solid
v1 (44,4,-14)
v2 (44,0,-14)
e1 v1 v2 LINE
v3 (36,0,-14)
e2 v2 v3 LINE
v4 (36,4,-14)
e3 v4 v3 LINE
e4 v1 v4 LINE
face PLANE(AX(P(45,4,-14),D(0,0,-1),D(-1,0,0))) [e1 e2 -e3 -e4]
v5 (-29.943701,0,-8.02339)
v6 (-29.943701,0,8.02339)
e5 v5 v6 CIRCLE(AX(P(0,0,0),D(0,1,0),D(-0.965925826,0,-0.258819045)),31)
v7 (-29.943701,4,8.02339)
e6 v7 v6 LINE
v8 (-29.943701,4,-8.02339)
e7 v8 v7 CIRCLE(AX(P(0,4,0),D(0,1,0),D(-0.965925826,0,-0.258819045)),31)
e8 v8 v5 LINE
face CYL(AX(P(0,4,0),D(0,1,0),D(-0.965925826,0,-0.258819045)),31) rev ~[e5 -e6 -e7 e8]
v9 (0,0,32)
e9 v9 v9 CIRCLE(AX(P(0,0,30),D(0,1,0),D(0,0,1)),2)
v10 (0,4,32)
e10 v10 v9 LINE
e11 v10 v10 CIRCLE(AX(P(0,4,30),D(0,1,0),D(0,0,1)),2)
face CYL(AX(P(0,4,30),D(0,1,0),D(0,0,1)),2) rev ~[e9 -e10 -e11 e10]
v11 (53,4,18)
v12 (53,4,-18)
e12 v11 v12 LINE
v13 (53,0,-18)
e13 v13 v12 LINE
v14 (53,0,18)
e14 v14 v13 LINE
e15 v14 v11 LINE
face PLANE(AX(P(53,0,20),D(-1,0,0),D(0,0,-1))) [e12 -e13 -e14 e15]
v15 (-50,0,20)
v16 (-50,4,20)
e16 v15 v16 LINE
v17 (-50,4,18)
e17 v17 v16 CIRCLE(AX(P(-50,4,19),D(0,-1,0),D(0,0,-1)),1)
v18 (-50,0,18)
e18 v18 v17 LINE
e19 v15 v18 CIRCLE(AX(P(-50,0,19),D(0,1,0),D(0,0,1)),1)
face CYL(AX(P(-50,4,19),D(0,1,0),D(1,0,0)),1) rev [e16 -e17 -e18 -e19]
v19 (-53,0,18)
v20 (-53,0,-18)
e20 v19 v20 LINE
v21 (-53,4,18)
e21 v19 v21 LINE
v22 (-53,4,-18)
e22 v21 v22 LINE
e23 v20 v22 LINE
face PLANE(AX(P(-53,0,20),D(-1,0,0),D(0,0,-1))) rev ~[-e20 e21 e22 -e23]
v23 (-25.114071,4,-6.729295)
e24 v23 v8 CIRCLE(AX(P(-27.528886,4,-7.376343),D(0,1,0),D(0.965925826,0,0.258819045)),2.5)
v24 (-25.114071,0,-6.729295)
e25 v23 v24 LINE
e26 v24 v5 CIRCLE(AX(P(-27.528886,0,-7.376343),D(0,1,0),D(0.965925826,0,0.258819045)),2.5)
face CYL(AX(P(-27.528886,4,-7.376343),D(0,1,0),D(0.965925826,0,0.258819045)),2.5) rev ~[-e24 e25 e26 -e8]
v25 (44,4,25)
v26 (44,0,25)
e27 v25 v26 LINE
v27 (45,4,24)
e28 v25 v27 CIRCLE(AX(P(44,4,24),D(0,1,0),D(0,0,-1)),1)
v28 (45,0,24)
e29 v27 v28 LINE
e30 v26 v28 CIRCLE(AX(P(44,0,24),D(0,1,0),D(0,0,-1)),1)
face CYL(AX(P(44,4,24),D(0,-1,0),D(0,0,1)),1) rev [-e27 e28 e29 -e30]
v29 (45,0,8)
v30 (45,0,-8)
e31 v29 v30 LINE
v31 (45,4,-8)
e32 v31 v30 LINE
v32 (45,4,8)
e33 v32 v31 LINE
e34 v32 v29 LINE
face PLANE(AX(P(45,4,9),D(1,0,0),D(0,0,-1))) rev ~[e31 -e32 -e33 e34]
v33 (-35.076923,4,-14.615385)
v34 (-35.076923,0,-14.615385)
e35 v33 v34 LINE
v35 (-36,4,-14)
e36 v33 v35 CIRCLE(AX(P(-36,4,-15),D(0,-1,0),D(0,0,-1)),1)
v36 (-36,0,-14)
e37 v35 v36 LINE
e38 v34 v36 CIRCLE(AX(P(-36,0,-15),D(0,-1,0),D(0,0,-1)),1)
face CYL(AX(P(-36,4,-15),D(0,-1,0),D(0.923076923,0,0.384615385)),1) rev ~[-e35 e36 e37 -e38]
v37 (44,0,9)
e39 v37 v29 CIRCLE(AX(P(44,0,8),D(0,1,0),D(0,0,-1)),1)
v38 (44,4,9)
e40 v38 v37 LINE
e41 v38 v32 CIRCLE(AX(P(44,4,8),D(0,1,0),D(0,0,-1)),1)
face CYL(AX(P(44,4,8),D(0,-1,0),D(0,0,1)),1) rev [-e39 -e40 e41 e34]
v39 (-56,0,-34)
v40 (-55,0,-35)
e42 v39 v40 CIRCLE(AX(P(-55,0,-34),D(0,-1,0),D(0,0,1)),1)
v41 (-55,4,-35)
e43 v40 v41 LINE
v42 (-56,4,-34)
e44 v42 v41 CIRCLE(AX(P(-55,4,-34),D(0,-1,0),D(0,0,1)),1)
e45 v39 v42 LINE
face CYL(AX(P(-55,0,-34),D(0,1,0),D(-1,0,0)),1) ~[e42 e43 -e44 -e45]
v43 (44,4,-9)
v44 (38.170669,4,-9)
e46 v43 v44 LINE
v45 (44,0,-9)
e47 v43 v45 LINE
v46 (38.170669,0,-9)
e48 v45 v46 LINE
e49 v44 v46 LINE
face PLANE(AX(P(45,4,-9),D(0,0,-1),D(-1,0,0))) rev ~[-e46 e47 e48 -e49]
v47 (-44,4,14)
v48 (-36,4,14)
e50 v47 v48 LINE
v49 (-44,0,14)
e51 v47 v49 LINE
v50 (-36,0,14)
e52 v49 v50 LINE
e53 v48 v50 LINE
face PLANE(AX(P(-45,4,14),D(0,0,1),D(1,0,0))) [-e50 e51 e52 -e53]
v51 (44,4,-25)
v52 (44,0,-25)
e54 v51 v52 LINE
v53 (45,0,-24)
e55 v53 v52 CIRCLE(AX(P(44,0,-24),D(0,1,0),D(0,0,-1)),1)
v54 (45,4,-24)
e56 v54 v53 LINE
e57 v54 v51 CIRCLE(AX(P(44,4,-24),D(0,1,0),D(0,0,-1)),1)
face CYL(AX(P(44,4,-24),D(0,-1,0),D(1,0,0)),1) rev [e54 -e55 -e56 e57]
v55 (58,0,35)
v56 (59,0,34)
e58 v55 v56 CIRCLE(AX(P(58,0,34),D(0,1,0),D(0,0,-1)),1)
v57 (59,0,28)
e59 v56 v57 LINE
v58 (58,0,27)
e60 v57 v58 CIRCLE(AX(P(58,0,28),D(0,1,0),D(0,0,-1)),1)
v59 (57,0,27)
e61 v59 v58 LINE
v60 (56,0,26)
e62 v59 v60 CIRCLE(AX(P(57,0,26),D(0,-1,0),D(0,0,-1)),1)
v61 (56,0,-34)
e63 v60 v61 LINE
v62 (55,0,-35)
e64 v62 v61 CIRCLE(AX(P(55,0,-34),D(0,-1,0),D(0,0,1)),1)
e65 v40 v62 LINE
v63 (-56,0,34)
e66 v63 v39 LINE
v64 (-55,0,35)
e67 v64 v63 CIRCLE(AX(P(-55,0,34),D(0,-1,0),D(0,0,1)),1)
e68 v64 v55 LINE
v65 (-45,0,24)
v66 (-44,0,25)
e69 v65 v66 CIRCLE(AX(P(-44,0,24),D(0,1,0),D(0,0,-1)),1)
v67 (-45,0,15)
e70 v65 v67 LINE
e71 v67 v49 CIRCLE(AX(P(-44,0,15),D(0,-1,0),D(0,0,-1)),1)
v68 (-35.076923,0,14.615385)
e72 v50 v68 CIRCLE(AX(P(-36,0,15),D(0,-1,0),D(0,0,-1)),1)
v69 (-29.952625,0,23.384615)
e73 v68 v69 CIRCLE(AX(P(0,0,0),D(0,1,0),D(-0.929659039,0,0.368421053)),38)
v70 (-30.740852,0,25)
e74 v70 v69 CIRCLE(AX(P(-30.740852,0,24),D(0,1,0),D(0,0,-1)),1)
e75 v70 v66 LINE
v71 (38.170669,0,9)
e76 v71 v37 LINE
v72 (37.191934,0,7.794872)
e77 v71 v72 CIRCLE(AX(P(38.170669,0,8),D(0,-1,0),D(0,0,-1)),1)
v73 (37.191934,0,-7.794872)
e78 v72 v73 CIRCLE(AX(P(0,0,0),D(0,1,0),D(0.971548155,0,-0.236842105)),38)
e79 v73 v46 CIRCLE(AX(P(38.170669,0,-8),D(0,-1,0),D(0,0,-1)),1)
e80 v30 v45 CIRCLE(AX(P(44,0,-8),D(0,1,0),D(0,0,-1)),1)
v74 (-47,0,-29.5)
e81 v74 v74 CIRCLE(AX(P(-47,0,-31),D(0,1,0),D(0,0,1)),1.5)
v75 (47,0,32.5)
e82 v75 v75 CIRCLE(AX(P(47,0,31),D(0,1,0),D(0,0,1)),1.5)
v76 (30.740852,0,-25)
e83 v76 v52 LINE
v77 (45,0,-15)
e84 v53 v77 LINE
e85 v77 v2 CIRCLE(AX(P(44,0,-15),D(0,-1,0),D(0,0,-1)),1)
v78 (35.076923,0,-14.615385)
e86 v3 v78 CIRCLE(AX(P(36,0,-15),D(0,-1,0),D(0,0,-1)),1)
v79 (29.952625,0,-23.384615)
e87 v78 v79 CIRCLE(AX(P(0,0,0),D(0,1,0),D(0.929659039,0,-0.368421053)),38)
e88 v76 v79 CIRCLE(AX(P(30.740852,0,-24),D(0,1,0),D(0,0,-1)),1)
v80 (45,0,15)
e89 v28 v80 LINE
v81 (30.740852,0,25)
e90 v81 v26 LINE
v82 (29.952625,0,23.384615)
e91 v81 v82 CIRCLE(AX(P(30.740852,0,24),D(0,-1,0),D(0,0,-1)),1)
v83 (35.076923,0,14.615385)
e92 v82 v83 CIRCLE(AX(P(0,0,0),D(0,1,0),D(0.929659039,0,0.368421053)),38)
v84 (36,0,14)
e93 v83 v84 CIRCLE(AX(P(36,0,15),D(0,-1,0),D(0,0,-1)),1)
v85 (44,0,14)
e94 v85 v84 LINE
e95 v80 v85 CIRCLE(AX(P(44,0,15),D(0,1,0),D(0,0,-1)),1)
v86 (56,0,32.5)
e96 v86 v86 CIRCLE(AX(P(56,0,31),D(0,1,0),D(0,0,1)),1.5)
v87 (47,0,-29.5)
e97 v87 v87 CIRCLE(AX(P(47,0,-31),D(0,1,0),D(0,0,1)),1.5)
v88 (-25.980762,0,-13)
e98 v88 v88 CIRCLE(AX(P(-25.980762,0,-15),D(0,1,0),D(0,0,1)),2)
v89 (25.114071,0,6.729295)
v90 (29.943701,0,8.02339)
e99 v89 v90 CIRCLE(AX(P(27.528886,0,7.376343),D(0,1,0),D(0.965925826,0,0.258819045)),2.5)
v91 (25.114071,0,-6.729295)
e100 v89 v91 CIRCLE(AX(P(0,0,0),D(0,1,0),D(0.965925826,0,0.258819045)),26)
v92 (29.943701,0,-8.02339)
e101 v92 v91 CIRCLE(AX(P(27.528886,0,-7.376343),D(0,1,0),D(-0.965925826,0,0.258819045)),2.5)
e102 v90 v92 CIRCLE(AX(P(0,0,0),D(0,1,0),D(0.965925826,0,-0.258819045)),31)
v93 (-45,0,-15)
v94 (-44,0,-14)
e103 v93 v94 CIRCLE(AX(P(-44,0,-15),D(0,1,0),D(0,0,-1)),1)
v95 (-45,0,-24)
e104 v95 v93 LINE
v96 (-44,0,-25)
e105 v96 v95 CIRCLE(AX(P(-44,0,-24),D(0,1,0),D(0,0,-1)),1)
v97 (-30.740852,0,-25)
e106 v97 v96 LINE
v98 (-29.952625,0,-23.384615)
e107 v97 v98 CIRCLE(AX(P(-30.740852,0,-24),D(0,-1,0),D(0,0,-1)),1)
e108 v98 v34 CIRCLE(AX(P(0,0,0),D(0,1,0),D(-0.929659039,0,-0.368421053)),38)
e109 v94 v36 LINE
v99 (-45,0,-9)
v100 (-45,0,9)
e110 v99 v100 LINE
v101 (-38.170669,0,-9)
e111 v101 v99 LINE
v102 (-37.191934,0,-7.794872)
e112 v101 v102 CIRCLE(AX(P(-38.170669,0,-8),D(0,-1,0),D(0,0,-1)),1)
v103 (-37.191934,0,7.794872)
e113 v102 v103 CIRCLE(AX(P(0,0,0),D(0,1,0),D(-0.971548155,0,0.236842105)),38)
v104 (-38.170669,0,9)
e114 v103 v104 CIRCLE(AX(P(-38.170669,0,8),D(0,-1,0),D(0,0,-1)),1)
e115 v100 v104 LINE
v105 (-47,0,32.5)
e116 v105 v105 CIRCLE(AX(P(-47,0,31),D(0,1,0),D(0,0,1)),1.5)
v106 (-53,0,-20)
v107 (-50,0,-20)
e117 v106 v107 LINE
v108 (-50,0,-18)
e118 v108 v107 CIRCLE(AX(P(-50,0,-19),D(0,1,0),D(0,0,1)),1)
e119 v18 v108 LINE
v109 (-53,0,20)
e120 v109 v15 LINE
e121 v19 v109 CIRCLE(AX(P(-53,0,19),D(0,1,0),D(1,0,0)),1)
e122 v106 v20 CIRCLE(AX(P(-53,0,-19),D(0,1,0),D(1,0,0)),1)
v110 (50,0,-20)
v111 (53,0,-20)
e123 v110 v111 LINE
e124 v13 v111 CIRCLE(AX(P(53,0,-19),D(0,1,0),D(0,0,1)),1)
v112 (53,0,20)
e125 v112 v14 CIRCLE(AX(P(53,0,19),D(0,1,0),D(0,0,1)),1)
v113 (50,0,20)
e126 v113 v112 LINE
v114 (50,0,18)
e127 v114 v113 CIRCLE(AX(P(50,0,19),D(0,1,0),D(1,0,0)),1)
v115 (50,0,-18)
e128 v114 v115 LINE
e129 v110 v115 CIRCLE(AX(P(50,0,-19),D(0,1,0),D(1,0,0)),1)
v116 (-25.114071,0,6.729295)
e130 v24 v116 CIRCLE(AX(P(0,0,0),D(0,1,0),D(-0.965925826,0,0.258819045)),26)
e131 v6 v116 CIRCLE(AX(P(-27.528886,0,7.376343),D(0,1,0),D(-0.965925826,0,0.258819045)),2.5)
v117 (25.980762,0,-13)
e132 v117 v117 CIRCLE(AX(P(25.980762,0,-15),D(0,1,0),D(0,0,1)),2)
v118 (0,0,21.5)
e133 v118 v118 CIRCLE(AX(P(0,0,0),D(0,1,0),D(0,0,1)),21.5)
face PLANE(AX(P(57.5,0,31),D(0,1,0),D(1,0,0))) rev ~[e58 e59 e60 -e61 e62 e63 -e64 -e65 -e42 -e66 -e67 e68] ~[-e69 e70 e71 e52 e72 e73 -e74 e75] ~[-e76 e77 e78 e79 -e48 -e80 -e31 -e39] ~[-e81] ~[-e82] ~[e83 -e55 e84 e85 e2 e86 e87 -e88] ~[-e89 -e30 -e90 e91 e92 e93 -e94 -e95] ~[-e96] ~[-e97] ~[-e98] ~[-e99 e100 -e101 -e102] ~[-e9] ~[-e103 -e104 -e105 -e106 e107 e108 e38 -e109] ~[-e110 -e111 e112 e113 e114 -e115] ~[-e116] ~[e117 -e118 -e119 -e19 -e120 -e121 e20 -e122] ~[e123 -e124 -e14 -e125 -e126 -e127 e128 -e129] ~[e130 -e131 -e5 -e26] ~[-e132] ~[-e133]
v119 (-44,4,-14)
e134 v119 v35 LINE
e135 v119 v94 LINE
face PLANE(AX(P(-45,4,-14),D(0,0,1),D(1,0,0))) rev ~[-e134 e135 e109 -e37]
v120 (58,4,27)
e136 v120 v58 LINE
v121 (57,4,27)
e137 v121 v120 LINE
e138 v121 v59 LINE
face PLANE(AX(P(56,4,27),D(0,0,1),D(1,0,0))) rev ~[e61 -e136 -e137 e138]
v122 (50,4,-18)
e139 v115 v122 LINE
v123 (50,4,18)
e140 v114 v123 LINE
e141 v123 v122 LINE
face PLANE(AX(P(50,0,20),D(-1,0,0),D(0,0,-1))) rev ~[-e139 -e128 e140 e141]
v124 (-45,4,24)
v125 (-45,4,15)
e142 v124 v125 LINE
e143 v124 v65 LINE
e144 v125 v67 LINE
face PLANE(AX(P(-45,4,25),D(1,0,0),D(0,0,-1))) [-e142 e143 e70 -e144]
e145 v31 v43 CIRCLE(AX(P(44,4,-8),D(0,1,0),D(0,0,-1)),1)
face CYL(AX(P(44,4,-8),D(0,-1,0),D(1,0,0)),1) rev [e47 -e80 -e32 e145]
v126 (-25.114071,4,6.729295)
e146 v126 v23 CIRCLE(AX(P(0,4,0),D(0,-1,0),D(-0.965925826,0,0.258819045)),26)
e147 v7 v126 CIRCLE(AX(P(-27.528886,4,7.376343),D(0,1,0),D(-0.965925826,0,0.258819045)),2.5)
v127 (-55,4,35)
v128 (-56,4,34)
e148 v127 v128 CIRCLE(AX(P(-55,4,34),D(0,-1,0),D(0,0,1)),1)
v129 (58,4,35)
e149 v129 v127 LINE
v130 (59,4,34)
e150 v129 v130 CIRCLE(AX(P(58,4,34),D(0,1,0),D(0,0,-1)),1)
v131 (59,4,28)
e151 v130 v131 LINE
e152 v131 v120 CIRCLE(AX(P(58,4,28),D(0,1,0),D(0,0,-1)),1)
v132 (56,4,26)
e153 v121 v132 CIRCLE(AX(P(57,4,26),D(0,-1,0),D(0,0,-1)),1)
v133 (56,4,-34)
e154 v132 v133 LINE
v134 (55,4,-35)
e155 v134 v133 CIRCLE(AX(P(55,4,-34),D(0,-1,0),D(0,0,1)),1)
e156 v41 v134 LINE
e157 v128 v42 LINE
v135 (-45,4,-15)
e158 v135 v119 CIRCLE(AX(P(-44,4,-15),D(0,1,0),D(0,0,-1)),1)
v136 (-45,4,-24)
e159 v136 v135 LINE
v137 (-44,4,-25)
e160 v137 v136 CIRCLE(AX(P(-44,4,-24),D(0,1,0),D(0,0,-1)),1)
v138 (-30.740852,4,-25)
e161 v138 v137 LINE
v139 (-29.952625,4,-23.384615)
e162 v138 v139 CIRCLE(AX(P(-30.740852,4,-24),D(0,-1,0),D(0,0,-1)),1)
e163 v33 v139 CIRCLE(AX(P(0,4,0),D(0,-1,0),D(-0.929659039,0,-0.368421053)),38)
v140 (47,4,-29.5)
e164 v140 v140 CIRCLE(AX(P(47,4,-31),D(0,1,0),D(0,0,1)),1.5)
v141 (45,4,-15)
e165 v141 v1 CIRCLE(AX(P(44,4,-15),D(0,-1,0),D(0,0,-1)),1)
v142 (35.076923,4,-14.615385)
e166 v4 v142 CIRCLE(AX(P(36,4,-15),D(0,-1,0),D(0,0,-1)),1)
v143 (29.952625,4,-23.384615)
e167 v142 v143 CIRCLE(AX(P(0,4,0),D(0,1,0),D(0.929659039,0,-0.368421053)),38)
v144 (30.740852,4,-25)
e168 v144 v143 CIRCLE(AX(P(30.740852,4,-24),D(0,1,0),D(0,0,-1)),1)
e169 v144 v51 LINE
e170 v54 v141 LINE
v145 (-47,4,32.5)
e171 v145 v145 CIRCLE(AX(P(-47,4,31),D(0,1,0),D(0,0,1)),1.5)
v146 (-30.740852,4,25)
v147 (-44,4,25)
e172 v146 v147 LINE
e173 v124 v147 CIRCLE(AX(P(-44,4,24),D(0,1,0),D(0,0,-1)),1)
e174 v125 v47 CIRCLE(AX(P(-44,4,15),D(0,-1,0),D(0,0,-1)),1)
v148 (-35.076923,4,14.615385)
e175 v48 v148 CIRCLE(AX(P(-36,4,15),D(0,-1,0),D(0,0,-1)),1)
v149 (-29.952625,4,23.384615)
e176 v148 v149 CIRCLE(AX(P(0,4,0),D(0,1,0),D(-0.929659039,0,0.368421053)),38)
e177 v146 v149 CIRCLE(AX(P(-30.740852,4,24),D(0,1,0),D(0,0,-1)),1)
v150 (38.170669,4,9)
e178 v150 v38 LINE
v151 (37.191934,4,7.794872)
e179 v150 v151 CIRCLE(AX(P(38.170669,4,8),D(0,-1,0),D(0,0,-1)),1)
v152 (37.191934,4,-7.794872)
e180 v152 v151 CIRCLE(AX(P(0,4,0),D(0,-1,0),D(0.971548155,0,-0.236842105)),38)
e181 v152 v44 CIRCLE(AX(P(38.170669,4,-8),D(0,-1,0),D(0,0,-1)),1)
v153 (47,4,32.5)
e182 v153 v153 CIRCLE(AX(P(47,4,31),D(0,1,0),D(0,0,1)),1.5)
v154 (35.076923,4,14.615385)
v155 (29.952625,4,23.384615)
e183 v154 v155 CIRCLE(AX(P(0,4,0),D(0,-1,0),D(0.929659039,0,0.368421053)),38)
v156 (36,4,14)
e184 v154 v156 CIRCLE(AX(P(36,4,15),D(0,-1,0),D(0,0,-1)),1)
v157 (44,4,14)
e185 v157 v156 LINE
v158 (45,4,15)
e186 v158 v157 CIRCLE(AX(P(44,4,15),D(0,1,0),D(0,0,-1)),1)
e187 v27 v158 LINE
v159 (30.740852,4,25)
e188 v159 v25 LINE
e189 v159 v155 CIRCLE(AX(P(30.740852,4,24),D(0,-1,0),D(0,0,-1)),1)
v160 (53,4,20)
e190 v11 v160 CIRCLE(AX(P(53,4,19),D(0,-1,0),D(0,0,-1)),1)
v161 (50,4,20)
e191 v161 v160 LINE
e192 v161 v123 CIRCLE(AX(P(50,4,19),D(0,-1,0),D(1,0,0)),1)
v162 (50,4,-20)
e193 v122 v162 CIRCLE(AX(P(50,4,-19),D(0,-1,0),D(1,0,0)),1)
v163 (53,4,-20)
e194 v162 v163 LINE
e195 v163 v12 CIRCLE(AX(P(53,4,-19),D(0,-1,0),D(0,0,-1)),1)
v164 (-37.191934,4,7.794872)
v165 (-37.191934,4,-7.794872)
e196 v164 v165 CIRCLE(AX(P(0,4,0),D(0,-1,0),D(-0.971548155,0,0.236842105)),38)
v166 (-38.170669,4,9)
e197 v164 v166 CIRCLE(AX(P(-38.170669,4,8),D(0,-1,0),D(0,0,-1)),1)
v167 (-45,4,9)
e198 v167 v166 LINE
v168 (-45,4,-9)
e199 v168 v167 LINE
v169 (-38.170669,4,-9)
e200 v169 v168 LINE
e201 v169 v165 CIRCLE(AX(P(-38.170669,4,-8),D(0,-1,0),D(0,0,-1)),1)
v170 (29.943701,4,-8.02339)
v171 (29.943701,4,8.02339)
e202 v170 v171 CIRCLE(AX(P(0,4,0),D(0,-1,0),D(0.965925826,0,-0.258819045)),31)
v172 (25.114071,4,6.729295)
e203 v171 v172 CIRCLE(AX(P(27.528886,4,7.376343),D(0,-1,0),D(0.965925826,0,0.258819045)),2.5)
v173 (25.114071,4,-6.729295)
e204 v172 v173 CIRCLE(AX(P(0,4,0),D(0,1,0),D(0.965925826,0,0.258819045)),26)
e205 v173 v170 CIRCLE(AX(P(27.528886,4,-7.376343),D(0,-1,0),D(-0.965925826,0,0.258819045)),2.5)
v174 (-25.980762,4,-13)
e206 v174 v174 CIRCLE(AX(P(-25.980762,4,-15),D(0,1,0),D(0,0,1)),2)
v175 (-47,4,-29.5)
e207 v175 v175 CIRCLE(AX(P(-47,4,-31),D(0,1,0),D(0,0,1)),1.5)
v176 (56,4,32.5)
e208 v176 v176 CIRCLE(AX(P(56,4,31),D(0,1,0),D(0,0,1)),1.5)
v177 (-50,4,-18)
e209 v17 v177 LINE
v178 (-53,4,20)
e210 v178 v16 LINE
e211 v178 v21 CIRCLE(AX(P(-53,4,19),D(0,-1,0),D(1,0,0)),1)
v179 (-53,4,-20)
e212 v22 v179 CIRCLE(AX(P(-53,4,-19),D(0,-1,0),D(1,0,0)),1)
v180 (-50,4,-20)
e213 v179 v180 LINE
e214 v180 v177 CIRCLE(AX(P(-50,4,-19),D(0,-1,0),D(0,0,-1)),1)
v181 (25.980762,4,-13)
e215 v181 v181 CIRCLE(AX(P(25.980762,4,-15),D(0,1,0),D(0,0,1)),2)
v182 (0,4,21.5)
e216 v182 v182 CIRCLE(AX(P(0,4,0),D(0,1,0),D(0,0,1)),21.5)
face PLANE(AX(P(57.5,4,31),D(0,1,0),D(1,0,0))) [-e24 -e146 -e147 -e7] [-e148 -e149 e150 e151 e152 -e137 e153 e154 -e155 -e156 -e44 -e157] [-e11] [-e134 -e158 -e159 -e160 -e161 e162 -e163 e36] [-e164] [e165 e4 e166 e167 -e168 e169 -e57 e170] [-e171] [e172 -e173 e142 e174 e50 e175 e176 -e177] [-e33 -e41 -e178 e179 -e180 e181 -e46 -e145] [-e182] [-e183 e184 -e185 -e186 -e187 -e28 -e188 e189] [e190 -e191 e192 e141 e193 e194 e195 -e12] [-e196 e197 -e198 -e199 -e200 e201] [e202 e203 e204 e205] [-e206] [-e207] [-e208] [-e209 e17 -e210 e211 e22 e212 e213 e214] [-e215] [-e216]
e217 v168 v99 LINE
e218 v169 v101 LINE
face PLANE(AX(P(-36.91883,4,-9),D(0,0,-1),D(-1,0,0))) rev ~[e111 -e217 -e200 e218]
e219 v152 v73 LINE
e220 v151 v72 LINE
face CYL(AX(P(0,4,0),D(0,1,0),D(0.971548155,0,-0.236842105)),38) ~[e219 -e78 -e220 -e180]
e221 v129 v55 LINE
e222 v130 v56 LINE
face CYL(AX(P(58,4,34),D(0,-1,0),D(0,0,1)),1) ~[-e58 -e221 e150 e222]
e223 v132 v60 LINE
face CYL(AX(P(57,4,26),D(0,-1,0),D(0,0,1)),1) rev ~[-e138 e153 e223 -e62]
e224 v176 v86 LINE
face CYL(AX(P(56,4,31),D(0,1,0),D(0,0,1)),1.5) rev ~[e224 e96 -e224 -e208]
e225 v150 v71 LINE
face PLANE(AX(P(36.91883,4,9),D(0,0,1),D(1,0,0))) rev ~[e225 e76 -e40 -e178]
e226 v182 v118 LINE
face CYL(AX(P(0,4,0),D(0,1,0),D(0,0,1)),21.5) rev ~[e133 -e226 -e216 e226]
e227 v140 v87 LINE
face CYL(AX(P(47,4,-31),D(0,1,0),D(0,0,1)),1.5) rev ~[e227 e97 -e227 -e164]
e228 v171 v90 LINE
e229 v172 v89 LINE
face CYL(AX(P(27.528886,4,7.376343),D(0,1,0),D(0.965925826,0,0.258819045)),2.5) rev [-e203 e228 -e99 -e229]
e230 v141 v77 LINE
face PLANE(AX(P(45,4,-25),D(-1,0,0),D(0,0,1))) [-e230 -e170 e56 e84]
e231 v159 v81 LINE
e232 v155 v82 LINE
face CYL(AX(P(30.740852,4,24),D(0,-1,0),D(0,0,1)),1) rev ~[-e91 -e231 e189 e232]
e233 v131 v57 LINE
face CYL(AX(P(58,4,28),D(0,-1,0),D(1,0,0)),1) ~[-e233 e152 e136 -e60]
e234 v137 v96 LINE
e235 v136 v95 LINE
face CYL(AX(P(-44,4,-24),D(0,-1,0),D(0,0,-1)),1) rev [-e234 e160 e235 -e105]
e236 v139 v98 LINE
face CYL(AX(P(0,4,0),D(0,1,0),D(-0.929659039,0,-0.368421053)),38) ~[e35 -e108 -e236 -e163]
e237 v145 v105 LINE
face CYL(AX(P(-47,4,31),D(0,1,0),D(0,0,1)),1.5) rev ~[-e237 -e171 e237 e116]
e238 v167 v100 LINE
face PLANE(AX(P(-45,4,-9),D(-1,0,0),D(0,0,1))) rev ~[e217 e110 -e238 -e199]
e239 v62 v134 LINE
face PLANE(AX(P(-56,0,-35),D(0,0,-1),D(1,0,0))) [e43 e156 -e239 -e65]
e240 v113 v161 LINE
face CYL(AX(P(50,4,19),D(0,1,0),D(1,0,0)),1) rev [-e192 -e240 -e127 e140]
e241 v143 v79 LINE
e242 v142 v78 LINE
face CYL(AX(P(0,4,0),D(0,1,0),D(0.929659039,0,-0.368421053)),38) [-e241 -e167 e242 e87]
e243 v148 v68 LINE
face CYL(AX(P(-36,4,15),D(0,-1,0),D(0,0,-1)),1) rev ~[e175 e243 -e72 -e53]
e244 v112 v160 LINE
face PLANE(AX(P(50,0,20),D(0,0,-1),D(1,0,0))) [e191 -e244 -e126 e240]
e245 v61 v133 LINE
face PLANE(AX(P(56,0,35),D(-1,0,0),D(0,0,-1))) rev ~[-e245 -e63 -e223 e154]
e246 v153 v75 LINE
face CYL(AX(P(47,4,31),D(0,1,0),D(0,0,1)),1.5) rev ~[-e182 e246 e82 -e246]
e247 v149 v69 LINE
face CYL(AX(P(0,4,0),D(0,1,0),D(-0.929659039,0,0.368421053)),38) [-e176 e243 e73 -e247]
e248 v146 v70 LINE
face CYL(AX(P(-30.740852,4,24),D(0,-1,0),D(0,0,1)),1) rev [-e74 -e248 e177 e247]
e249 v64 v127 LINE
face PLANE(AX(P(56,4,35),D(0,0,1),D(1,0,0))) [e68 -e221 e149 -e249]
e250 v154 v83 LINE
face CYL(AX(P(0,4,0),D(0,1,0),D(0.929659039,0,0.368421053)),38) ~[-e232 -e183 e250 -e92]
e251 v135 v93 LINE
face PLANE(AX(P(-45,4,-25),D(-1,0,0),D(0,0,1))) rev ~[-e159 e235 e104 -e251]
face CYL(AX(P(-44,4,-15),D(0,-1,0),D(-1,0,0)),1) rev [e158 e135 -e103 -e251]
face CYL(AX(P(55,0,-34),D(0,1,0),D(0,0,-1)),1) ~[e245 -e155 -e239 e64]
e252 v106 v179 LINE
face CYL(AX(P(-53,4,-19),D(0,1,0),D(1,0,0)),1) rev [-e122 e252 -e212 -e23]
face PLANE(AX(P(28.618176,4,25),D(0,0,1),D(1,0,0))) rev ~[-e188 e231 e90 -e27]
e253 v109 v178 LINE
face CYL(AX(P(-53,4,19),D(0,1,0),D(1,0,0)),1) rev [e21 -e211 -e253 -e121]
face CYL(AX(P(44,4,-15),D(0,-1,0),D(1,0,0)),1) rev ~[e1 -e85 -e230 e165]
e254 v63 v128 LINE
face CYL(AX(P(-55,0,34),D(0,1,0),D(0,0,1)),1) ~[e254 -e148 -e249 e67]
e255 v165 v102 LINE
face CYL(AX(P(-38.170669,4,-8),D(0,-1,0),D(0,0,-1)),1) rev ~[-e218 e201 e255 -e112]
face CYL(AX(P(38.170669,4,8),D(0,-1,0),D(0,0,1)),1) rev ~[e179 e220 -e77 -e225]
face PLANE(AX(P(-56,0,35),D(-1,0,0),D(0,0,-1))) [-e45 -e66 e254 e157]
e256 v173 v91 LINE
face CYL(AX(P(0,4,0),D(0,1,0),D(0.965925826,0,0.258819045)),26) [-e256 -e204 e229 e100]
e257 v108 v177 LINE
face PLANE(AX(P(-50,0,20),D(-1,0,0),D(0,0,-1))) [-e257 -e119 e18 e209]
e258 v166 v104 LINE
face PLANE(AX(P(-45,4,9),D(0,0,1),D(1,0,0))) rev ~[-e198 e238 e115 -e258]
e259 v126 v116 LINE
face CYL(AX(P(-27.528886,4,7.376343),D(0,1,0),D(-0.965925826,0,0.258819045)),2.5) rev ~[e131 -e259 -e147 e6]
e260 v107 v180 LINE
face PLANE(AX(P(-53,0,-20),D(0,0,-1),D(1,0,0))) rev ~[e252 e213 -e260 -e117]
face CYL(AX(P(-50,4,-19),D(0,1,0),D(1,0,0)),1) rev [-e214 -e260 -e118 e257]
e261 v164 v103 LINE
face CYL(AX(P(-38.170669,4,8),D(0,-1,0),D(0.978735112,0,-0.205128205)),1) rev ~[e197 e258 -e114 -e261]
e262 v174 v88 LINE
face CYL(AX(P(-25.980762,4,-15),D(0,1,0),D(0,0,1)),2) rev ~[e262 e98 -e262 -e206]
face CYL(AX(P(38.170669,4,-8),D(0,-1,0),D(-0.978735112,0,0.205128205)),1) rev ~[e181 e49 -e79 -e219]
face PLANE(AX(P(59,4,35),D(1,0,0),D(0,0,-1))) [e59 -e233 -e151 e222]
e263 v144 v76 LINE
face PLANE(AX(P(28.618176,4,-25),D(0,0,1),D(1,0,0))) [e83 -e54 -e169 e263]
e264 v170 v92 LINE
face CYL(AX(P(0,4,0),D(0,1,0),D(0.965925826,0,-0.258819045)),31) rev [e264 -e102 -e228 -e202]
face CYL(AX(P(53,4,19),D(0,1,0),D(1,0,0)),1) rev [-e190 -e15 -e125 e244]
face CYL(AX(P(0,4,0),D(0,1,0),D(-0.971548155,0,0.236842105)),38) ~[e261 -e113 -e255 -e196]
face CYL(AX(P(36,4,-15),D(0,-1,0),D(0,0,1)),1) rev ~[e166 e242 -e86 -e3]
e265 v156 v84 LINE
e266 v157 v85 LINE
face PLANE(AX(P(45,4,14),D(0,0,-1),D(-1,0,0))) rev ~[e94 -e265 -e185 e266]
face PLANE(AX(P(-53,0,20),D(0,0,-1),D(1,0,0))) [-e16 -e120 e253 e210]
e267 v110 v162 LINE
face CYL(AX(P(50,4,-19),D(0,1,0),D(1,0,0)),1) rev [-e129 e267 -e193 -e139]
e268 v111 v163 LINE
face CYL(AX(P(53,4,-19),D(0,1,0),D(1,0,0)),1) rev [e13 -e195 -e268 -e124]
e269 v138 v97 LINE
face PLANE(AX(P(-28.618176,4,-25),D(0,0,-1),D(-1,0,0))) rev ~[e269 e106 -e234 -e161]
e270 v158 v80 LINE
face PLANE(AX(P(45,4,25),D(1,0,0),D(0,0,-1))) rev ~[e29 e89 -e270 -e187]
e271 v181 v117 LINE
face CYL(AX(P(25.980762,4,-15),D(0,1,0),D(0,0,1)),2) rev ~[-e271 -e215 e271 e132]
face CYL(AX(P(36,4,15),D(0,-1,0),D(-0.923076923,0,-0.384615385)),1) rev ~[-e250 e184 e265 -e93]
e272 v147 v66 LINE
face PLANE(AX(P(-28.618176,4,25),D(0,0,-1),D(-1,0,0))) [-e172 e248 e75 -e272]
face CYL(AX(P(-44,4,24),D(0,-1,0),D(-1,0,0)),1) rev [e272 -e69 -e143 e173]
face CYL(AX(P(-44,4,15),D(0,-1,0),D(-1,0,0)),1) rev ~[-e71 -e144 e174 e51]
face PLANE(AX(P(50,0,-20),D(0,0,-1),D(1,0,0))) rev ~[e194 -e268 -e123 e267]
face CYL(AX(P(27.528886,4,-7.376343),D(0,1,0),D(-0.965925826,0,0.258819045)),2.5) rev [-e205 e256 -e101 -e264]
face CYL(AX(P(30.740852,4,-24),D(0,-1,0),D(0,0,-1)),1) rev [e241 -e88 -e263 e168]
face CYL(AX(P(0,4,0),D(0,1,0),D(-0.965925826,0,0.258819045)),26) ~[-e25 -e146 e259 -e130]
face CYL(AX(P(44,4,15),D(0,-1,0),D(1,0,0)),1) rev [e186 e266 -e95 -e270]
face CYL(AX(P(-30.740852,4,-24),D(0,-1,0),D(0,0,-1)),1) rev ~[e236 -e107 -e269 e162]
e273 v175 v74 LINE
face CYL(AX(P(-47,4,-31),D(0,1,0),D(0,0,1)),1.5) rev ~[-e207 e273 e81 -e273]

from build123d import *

# Parameters (mm, degrees)
SKETCH_1_W          = 112
SKETCH_1_H          = 70
SKETCH_1_W_2        = 3
SKETCH_1_H_2        = 40
EXTRUDE_1_DEPTH     = 4
SKETCH_6_R          = 21.5
SKETCH_6_R_2        = 2
CUT_EXTRUDE_5_DEPTH = 67.158899628
SKETCH_2_R          = 1.5
CUT_EXTRUDE_1_DEPTH = 10
SKETCH_4_R          = 1
CUT_EXTRUDE_3_DEPTH = 67.158899628
CUT_EXTRUDE_6_DEPTH = 67.158899628
SKETCH_8_W          = 3
SKETCH_8_H          = 8
EXTRUDE_2_DEPTH     = 4
SKETCH_9_R          = 1.5
CUT_EXTRUDE_7_DEPTH = 69.71681017
FILLET_3_R          = 1


with BuildPart() as part:
    # 草图1 → 凸台-拉伸1 (new body)
    with BuildSketch(Plane(origin=(0, 0, 0), x_dir=(1, 0, 0), z_dir=(0, 1, 0))):
        Rectangle(SKETCH_1_W, SKETCH_1_H)
        with Locations((-51.5, 0)):
            Rectangle(SKETCH_1_W_2, SKETCH_1_H_2, mode=Mode.SUBTRACT)
        with Locations((51.5, 0)):
            Rectangle(SKETCH_1_W_2, SKETCH_1_H_2, mode=Mode.SUBTRACT)
    extrude(amount=EXTRUDE_1_DEPTH)

    # 草图6 → 切除-拉伸5 (cut, through all)
    with BuildSketch(Plane(origin=(0, 4, 0), x_dir=(1, 0, 0), z_dir=(0, 1, 0))):
        with Locations(Location((0, 0, 0), (0, 0, 270))):
            Circle(SKETCH_6_R)
        with Locations(Location((-25.980762114, 15, 0), (0, 0, 270))):
            Circle(SKETCH_6_R_2)
        with Locations(Location((25.980762114, 15, 0), (0, 0, 270))):
            Circle(SKETCH_6_R_2)
        with Locations(Location((0, -30, 0), (0, 0, 270))):
            Circle(SKETCH_6_R_2)
        with BuildLine():
            ThreePointArc((-29.943700615, 8.023390398), (-31, 0), (-29.943700615, -8.023390398))
            ThreePointArc((-29.943700615, -8.023390398), (-26.881838436, -9.791157351), (-25.114071484, -6.729295173))
            ThreePointArc((-25.114071484, -6.729295173), (-26, 0), (-25.114071484, 6.729295173))
            ThreePointArc((-25.114071484, 6.729295173), (-26.881838436, 9.791157351), (-29.943700615, 8.023390398))
        make_face()
        with BuildLine():
            ThreePointArc((29.943700615, 8.023390398), (31, 0), (29.943700615, -8.023390398))
            ThreePointArc((29.943700615, -8.023390398), (26.881838436, -9.791157351), (25.114071484, -6.729295173))
            ThreePointArc((25.114071484, -6.729295173), (26, 0), (25.114071484, 6.729295173))
            ThreePointArc((25.114071484, 6.729295173), (26.881838436, 9.791157351), (29.943700615, 8.023390398))
        make_face()
    extrude(amount=-CUT_EXTRUDE_5_DEPTH, mode=Mode.SUBTRACT)

    # 草图2 → 切除-拉伸1 (cut)
    with BuildSketch(Plane(origin=(0, 4, 0), x_dir=(1, 0, 0), z_dir=(0, 1, 0))):
        with Locations(Location((-47, 31, 0), (0, 0, 270))):
            Circle(SKETCH_2_R)
        with Locations(Location((47, 31, 0), (0, 0, 270))):
            Circle(SKETCH_2_R)
        with Locations(Location((47, -31, 0), (0, 0, 270))):
            Circle(SKETCH_2_R)
        with Locations(Location((-47, -31, 0), (0, 0, 270))):
            Circle(SKETCH_2_R)
    extrude(amount=-CUT_EXTRUDE_1_DEPTH, mode=Mode.SUBTRACT)

    # 草图4 → 切除-拉伸3 (cut, through all)
    with BuildSketch(Plane.XZ.offset(-4)):
        with Locations((-50, 19)):
            Circle(SKETCH_4_R)
        with Locations((-50, -19)):
            Circle(SKETCH_4_R)
        with Locations((50, -19)):
            Circle(SKETCH_4_R)
        with Locations((50, 19)):
            Circle(SKETCH_4_R)
        with Locations((-53, 19)):
            Circle(SKETCH_4_R)
        with Locations((-53, -19)):
            Circle(SKETCH_4_R)
        with Locations((53, -19)):
            Circle(SKETCH_4_R)
        with Locations((53, 19)):
            Circle(SKETCH_4_R)
    extrude(amount=CUT_EXTRUDE_3_DEPTH, mode=Mode.SUBTRACT)

    # 草图7 → 切除-拉伸6 (cut, through all)
    with BuildSketch(Plane(origin=(0, 4, 0), x_dir=(1, 0, 0), z_dir=(0, 1, 0))):
        with BuildLine():
            Line((-28.618176043, 25), (-45, 25))
            Line((-45, 25), (-45, 14))
            Line((-45, 14), (-35.327043465, 14))
            ThreePointArc((-35.327043465, 14), (-32.442222095, 19.786415176), (-28.618176043, 25))
        make_face()
        with BuildLine():
            Line((-36.918829884, 9), (-45, 9))
            Line((-45, 9), (-45, -9))
            Line((-45, -9), (-36.918829884, -9))
            ThreePointArc((-36.918829884, -9), (-38, 0), (-36.918829884, 9))
        make_face()
        with BuildLine():
            Line((-45, -14), (-35.327043465, -14))
            ThreePointArc((-35.327043465, -14), (-32.442222095, -19.786415176), (-28.618176043, -25))
            Line((-28.618176043, -25), (-45, -25))
            Line((-45, -25), (-45, -14))
        make_face()
        with BuildLine():
            Line((28.618176043, -25), (45, -25))
            Line((45, -25), (45, -14))
            Line((45, -14), (35.327043465, -14))
            ThreePointArc((35.327043465, -14), (32.442222095, -19.786415176), (28.618176043, -25))
        make_face()
        with BuildLine():
            Line((36.918829884, -9), (45, -9))
            Line((45, -9), (45, 9))
            Line((45, 9), (36.918829884, 9))
            ThreePointArc((36.918829884, 9), (38, 0), (36.918829884, -9))
        make_face()
        with BuildLine():
            Line((45, 14), (35.327043465, 14))
            ThreePointArc((35.327043465, 14), (32.442222095, 19.786415176), (28.618176043, 25))
            Line((28.618176043, 25), (45, 25))
            Line((45, 25), (45, 14))
        make_face()
    extrude(amount=-CUT_EXTRUDE_6_DEPTH, mode=Mode.SUBTRACT)

    # 草图8 → 凸台-拉伸2 (add)
    with BuildSketch(Plane(origin=(0, 4, 0), x_dir=(1, 0, 0), z_dir=(0, 1, 0))):
        with Locations((57.5, -31)):
            Rectangle(SKETCH_8_W, SKETCH_8_H)
    extrude(amount=-EXTRUDE_2_DEPTH)

    # 草图9 → 切除-拉伸7 (cut, through all)
    with BuildSketch(Plane(origin=(0, 4, 0), x_dir=(1, 0, 0), z_dir=(0, 1, 0))):
        with Locations(Location((56, -31, 0), (0, 0, 270))):
            Circle(SKETCH_9_R)
    extrude(amount=-CUT_EXTRUDE_7_DEPTH, mode=Mode.SUBTRACT)

    # 圆角3
    fillet_3_edges = [part.edges().sort_by_distance(p)[0] for p in [
        (35.327043465, 2, -14),
        (28.618176043, 2, -25),
        (45, 2, -25),
        (45, 2, -14),
        (36.918829884, 2, 9),
        (36.918829884, 2, -9),
        (45, 2, -9),
        (45, 2, 9),
        (28.618176043, 2, 25),
        (35.327043465, 2, 14),
        (45, 2, 14),
        (45, 2, 25),
        (-35.327043465, 2, 14),
        (-28.618176043, 2, 25),
        (-45, 2, 25),
        (-45, 2, 14),
        (-36.918829884, 2, -9),
        (-36.918829884, 2, 9),
        (-28.618176043, 2, -25),
        (-35.327043465, 2, -14),
        (-45, 2, -14),
        (-45, 2, -25),
        (56, 2, 27),
        (59, 2, 27),
        (59, 2, 35),
        (-56, 2, -35),
        (56, 2, -35),
        (-56, 2, 35),
    ]]
    fillet(fillet_3_edges, radius=FILLET_3_R)


solid = part.part
